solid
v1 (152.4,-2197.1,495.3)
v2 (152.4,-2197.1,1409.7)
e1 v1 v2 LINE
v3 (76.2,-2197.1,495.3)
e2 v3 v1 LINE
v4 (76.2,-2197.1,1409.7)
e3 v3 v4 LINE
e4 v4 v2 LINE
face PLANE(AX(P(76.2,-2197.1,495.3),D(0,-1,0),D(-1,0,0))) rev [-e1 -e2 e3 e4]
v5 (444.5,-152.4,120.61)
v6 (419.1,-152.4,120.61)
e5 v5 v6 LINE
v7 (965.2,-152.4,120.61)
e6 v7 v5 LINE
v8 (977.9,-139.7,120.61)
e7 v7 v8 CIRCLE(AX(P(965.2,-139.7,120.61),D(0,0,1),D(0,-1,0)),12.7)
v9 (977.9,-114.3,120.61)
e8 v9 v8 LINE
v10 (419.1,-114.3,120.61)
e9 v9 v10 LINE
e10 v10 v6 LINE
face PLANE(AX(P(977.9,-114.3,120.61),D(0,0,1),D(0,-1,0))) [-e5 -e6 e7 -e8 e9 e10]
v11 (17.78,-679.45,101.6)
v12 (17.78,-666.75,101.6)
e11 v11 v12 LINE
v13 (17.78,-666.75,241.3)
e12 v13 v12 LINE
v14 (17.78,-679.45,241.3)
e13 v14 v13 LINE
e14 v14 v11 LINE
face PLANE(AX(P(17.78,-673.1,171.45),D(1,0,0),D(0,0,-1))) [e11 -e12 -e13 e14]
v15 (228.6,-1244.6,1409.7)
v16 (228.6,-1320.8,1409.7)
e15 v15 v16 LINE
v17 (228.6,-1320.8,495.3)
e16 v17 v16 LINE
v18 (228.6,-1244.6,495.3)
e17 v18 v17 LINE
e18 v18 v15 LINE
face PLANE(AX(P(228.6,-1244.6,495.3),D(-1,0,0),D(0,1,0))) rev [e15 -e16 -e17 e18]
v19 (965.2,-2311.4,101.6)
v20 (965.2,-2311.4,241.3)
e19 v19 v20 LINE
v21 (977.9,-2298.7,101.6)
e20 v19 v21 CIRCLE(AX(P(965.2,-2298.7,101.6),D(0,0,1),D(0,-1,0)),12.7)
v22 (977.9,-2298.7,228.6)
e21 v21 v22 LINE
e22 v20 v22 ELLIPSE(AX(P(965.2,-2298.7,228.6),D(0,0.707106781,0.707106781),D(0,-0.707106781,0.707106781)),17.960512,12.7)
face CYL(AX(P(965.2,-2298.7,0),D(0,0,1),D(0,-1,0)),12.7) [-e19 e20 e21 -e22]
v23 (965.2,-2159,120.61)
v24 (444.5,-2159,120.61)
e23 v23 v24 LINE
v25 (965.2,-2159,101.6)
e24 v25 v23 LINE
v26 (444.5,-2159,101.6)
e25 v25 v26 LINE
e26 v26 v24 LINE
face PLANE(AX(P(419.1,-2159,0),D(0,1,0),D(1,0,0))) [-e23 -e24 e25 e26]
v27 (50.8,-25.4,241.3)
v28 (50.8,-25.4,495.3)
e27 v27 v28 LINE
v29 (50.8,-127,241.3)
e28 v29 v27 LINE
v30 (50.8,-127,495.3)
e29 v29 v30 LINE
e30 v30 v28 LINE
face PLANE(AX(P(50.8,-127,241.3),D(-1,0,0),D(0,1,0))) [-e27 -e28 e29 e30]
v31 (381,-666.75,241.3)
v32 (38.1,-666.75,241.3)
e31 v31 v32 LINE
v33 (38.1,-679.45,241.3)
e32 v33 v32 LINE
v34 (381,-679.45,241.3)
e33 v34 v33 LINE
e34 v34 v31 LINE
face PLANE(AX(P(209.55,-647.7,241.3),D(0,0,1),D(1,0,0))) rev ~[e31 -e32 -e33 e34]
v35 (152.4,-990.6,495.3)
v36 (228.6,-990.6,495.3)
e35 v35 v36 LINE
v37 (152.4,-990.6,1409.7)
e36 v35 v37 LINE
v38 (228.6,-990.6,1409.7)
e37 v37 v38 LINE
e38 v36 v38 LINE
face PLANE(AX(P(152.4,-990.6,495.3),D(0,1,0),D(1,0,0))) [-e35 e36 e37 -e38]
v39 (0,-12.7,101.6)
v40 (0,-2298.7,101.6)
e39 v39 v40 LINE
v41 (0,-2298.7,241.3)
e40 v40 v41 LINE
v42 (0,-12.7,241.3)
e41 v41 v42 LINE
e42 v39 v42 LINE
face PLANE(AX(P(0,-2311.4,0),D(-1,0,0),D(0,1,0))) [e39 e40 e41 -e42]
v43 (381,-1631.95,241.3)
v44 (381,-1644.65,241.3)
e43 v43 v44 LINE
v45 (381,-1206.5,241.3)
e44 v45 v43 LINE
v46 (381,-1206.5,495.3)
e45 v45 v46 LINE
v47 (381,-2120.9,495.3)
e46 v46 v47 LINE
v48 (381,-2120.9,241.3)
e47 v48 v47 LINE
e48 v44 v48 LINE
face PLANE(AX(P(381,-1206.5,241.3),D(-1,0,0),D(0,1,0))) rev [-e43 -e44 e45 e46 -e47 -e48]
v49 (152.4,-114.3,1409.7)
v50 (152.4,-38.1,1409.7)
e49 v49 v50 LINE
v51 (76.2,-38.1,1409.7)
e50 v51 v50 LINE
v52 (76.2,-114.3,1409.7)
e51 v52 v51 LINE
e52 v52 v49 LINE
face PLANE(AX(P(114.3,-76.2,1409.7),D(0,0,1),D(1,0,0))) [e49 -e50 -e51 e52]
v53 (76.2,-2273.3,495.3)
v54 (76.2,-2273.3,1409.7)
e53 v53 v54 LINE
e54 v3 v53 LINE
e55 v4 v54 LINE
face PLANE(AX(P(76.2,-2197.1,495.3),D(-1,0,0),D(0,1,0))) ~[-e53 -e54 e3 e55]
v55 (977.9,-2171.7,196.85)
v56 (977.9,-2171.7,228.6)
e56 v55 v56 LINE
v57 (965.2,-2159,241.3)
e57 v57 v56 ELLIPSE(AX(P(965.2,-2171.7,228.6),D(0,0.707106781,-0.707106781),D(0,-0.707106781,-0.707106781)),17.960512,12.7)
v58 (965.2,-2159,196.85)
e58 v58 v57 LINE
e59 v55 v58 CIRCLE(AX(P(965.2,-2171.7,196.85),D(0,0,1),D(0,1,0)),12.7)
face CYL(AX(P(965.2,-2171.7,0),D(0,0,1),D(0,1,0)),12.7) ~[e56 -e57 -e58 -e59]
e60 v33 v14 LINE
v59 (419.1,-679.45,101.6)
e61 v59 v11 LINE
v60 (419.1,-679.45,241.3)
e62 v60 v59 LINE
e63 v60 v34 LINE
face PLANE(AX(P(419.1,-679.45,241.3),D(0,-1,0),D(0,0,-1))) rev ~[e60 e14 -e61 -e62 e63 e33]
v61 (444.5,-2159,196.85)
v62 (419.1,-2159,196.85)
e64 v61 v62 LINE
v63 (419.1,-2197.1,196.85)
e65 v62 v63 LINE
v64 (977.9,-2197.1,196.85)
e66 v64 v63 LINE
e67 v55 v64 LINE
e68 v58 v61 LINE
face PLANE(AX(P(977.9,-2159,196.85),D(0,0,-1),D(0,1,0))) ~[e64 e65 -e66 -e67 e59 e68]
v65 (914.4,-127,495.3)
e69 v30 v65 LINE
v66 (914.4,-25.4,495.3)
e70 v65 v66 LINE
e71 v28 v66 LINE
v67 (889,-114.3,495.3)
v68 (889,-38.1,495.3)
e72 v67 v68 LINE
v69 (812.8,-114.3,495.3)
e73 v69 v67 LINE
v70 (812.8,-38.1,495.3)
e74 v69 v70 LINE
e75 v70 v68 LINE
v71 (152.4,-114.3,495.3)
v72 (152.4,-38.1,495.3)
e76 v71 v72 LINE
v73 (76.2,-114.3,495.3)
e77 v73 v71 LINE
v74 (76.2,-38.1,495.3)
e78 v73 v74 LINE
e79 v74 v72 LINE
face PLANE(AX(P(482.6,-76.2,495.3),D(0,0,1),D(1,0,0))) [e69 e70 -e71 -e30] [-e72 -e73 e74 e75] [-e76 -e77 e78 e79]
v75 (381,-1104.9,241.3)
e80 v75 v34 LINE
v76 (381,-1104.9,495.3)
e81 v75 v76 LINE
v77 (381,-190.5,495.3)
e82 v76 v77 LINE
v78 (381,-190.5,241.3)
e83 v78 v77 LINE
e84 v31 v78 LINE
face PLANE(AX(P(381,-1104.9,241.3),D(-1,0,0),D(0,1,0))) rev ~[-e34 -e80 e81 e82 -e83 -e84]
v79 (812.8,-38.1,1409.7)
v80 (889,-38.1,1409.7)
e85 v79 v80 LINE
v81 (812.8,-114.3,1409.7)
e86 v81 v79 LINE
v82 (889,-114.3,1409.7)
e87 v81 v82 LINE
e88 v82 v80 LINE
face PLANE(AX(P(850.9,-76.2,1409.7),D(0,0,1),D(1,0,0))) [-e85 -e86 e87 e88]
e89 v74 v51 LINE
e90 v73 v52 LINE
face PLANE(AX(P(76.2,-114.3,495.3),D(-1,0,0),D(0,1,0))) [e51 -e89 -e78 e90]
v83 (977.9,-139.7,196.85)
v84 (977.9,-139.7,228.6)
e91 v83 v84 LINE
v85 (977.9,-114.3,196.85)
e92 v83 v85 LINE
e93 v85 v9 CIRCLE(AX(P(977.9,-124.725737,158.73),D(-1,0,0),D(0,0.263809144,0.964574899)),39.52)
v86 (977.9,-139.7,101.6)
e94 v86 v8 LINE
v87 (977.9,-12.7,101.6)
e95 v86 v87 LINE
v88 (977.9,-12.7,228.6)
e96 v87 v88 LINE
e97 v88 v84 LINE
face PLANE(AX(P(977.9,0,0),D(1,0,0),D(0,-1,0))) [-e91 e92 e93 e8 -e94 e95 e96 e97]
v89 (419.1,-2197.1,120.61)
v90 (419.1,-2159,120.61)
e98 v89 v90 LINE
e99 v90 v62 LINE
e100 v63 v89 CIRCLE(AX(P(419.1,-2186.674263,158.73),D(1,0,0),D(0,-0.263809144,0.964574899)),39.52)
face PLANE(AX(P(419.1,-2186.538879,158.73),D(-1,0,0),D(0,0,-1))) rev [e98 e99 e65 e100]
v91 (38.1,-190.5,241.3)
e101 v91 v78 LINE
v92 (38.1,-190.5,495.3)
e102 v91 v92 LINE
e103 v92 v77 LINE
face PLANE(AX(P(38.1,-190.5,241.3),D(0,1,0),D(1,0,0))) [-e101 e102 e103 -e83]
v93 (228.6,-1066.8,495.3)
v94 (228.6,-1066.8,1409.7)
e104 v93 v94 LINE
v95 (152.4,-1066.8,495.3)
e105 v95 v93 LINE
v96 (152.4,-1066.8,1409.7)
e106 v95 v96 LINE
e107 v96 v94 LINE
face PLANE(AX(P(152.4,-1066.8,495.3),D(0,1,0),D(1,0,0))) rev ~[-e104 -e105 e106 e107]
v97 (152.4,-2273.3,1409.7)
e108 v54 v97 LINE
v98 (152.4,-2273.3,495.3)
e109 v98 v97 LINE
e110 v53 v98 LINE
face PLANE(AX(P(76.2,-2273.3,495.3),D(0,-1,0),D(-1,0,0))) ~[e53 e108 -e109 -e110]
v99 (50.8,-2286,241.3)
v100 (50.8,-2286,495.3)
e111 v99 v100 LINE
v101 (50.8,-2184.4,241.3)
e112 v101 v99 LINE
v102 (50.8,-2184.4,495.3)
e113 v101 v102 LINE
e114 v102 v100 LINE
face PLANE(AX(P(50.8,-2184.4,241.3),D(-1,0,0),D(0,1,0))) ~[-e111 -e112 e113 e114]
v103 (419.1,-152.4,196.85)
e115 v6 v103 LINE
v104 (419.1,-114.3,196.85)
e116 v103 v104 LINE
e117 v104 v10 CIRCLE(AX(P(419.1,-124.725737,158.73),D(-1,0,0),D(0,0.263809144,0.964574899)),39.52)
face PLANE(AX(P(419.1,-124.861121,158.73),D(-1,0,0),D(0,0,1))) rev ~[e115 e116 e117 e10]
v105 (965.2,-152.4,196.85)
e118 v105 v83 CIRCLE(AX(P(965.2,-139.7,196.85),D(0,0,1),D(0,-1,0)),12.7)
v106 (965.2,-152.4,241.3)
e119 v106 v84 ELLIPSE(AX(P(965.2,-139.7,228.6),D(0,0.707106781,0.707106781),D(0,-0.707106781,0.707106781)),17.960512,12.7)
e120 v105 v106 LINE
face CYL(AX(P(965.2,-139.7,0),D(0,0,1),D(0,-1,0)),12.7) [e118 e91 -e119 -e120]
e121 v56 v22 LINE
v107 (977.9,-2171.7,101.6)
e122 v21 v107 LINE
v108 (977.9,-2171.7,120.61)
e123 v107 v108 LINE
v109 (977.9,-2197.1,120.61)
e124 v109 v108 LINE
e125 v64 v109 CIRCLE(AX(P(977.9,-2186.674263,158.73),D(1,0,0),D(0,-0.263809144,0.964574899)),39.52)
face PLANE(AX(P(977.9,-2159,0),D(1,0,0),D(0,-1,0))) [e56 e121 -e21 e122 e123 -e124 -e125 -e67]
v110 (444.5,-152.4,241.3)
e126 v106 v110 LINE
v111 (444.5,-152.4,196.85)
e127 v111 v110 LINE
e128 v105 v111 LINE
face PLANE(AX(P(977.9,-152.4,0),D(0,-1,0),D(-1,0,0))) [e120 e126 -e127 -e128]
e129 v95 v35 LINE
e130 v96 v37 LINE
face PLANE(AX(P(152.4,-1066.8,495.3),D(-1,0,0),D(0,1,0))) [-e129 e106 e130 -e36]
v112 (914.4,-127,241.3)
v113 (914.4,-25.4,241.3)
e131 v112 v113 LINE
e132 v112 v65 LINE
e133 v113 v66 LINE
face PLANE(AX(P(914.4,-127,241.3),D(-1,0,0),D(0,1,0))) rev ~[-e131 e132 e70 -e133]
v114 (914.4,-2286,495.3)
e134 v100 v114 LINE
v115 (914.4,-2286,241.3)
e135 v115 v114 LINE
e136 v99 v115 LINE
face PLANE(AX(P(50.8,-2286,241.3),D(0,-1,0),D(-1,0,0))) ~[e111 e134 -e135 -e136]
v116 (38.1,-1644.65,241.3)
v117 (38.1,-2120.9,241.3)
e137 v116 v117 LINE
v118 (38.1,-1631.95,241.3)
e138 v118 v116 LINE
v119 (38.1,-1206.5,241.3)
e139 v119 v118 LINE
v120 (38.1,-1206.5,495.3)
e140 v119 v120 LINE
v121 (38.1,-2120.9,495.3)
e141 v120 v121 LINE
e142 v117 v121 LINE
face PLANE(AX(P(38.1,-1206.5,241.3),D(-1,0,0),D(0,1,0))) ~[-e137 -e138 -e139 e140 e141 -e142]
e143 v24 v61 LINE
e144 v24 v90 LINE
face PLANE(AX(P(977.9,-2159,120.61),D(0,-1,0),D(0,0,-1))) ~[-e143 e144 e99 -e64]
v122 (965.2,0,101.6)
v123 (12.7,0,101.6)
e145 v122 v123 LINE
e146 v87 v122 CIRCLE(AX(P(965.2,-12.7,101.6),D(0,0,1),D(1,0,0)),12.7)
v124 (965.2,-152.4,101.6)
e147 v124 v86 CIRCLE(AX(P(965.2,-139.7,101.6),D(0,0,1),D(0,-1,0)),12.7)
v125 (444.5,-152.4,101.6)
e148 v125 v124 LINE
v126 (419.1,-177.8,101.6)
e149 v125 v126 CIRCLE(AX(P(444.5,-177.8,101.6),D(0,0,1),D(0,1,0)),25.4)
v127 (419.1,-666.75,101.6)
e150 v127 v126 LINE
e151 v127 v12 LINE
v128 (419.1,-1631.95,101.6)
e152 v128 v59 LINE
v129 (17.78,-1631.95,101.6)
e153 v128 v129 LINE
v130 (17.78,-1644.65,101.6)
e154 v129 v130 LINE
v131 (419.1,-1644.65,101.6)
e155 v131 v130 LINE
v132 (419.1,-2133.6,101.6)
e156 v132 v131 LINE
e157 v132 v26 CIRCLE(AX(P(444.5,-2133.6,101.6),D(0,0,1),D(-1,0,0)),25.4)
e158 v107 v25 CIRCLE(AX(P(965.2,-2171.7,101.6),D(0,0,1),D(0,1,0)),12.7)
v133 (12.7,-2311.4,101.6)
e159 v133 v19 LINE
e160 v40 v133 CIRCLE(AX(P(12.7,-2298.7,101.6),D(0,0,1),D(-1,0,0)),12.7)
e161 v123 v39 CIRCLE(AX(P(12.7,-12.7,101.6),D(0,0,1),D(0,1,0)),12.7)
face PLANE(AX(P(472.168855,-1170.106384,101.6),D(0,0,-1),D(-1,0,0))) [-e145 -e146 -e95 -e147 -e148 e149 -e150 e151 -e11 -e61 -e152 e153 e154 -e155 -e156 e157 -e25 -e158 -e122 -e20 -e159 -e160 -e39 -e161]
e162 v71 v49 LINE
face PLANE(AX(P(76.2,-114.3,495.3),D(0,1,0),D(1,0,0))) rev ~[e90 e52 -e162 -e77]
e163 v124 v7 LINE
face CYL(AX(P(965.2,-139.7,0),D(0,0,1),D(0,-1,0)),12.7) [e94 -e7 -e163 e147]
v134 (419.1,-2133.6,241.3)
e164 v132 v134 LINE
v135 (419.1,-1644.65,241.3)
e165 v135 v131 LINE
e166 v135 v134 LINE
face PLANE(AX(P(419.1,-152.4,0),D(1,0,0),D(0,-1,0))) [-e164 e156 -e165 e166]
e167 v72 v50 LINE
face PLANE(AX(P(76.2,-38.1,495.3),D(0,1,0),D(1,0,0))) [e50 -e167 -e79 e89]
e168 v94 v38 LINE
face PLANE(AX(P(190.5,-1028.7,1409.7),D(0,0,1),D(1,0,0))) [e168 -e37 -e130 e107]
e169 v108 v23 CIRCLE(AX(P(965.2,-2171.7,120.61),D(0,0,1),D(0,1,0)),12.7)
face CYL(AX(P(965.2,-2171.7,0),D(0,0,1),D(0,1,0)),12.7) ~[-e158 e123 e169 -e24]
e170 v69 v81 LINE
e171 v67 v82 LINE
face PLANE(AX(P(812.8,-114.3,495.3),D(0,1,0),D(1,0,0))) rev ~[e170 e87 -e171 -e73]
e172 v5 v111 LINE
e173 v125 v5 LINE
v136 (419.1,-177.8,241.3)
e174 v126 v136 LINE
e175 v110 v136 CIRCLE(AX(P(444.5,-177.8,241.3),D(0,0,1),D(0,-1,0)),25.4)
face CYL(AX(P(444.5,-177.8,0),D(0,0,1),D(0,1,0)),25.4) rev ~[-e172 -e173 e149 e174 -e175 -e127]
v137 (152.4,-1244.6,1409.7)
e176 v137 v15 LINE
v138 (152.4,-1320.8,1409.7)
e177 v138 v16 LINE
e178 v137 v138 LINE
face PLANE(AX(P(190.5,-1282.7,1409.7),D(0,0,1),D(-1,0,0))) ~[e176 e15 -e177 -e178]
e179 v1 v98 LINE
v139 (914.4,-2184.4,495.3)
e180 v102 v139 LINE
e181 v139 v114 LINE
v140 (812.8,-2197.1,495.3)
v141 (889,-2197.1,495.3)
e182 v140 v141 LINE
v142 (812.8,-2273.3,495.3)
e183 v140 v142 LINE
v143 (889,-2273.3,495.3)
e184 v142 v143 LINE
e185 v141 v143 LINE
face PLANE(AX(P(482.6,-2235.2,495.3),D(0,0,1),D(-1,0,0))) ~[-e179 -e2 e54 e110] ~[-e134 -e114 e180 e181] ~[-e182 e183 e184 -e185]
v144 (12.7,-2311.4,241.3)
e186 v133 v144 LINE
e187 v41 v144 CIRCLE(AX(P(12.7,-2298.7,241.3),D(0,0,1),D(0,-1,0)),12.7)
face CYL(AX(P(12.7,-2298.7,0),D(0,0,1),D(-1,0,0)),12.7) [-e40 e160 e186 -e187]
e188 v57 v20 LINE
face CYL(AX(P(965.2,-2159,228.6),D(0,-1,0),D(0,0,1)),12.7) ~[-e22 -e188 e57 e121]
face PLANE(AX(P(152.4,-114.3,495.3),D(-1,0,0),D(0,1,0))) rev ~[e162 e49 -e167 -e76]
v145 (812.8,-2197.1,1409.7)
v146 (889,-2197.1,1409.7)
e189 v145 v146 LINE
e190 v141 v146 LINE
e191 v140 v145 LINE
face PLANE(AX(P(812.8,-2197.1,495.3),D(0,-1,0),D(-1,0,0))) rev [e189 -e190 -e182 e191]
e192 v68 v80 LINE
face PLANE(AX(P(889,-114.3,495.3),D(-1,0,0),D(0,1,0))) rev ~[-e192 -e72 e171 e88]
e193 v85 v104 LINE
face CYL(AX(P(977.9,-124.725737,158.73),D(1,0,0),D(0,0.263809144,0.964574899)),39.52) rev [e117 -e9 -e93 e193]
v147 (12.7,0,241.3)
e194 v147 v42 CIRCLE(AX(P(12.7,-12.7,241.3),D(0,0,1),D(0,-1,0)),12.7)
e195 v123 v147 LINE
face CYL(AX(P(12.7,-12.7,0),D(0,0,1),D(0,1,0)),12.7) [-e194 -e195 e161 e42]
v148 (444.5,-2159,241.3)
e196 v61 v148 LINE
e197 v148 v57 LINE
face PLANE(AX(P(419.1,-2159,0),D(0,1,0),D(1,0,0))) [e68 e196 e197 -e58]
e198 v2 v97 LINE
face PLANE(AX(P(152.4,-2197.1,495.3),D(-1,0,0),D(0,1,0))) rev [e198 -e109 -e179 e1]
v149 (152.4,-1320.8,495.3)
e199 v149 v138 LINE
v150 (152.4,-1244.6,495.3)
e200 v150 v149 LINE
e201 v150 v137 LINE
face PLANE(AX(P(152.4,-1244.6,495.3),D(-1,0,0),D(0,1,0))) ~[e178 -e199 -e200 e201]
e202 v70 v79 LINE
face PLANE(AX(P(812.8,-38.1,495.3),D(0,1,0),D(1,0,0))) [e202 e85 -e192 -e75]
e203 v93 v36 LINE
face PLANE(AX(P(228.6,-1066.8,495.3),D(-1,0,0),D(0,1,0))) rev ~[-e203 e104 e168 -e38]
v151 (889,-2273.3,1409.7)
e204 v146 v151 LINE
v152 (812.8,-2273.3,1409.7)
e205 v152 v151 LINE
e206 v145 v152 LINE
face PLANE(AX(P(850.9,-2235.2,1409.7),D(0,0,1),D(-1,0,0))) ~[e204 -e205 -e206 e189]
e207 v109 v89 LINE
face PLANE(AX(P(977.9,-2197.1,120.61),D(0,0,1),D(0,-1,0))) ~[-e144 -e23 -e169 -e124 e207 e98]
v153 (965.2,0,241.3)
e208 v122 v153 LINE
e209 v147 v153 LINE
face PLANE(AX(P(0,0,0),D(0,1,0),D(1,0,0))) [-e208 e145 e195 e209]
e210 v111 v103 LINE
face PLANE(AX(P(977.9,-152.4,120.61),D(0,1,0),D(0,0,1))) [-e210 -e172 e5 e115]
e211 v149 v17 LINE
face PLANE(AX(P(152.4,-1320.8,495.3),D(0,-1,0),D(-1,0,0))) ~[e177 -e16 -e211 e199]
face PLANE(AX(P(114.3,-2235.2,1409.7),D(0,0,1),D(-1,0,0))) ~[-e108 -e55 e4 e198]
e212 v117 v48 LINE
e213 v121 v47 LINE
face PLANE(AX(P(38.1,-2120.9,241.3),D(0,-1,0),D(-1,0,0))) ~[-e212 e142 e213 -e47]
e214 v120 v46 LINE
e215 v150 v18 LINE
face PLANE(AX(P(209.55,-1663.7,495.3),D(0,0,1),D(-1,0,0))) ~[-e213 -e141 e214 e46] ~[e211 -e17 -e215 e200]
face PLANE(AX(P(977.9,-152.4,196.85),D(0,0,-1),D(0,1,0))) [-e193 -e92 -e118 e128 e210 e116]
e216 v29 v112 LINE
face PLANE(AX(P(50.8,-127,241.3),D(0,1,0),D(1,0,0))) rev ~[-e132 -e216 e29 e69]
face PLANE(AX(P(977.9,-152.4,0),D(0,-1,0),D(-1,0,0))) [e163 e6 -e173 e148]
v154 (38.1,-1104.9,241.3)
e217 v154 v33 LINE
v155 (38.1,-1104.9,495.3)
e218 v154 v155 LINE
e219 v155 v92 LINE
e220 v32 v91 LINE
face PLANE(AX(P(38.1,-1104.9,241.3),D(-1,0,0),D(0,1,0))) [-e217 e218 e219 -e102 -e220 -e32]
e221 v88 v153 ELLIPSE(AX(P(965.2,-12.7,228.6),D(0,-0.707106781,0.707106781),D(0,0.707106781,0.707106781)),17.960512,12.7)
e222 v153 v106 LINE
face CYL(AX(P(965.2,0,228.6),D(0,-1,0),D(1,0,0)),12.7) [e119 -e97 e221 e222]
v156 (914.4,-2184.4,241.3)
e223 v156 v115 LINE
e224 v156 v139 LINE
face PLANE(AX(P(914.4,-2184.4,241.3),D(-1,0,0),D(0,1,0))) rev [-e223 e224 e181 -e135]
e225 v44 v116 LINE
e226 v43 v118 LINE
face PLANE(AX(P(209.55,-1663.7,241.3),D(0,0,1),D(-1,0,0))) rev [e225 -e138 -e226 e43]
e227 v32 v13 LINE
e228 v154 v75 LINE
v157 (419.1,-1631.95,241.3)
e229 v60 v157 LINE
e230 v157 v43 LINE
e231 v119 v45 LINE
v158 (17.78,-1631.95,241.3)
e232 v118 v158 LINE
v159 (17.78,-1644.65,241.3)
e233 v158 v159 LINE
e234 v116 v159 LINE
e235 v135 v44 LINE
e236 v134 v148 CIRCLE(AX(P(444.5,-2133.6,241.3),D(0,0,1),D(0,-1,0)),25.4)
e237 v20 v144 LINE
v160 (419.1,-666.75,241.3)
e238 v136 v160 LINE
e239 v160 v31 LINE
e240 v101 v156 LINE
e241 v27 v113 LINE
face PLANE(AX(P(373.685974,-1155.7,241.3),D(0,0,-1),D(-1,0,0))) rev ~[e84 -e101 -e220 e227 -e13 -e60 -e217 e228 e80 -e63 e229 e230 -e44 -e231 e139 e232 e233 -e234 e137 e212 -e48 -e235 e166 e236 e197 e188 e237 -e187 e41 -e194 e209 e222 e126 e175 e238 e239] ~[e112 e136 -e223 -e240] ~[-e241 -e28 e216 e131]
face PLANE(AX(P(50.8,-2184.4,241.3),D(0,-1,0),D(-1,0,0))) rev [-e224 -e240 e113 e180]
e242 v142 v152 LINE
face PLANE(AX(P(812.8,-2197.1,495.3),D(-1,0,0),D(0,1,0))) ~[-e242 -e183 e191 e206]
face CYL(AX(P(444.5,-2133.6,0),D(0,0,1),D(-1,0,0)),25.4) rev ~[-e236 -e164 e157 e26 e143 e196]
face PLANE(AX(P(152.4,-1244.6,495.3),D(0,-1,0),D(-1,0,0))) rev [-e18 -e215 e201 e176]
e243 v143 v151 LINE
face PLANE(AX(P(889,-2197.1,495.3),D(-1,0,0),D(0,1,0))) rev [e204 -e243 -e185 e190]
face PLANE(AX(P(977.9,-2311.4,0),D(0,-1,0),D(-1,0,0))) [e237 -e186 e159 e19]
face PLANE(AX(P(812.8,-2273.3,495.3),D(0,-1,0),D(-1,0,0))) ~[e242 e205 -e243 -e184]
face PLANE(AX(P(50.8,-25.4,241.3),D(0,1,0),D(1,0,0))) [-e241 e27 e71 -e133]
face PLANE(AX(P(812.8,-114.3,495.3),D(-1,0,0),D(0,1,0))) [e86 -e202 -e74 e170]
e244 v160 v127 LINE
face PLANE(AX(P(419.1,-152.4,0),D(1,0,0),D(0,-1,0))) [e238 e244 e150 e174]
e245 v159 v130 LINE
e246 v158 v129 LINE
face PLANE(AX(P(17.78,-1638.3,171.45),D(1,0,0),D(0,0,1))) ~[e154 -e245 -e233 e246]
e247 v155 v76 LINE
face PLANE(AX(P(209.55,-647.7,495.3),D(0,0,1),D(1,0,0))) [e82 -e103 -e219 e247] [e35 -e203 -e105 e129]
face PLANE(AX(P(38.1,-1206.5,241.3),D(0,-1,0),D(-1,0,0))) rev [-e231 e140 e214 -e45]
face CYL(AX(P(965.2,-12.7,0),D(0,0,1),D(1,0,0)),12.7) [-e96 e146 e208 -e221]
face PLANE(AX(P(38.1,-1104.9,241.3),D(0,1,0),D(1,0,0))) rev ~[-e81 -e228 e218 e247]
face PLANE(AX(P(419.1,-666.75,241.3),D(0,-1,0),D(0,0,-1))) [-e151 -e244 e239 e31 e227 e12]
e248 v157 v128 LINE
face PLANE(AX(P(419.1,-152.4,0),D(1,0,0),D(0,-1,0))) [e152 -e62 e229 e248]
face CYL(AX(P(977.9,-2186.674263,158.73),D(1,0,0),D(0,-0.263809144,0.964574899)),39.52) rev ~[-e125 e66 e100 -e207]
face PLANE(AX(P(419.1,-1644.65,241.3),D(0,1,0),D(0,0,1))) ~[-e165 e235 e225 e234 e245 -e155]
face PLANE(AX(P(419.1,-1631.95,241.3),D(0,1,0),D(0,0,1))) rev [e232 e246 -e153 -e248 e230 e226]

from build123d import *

# Parameters (mm, degrees)
BOSS_EXTRUDE1_DEPTH = 241.3
FILLET1_R           = 25.4
FILLET2_R           = 12.7
CUT_EXTRUDE1_DEPTH  = 558.8
SKETCH3_W           = 1114.093901139
SKETCH3_H           = 2455.440787086
CUT_EXTRUDE5_DEPTH  = 101.6
SKETCH4_W           = 139.7
SKETCH4_H           = 12.7
CUT_EXTRUDE6_DEPTH  = 401.32
SKETCH9_W           = 863.6
SKETCH9_H           = 101.6
SKETCH9_W_2         = 342.9
SKETCH9_H_2         = 914.4
BOSS_EXTRUDE5_DEPTH = 254
SKETCH10_W          = 76.2
SKETCH10_H          = 76.2
BOSS_EXTRUDE6_DEPTH = 914.4


with BuildPart() as part:
    # Sketch1 → Boss-Extrude1 (new body)
    with BuildSketch(Plane.XY):
        Polygon((977.9, -152.4), (419.1, -152.4), (419.1, -2159), (977.9, -2159), (977.9, -2311.4), (0, -2311.4), (0, 0), (977.9, 0), align=None)
    extrude(amount=BOSS_EXTRUDE1_DEPTH)

    # Fillet1
    fillet1_edges = [part.edges().sort_by_distance(p)[0] for p in [
        (419.1, -152.4, 120.65),
        (419.1, -2159, 120.65),
    ]]
    fillet(fillet1_edges, radius=FILLET1_R)

    # Fillet2
    fillet2_edges = [part.edges().sort_by_distance(p)[0] for p in [
        (977.9, -2235.2, 241.3),
        (0, 0, 120.65),
        (977.9, 0, 120.65),
        (977.9, -152.4, 120.65),
        (977.9, -2159, 120.65),
        (977.9, -2311.4, 120.65),
        (0, -2311.4, 120.65),
        (977.9, -76.2, 241.3),
        (977.9, -76.2, 0),
        (977.9, -2235.2, 0),
    ]]
    fillet(fillet2_edges, radius=FILLET2_R)

    # Sketch2 → Cut-Extrude1 (cut)
    with BuildSketch(Plane(origin=(977.9, 0, 0), x_dir=(0, 0, -1), z_dir=(1, 0, 0))):
        with BuildLine():
            Line((-196.85, -152.4), (-196.85, -114.3))
            ThreePointArc((-196.85, -114.3), (-158.73, -85.205737384), (-120.61, -114.3))
            Line((-120.61, -114.3), (-120.61, -152.4))
            Line((-120.61, -152.4), (-196.85, -152.4))
        make_face()
    cut_extrude1 = extrude(amount=-CUT_EXTRUDE1_DEPTH, mode=Mode.SUBTRACT)

    # Mirror1: Cut-Extrude1 across plane
    add(cut_extrude1.mirror(Plane.ZX.offset(-1155.7)), mode=Mode.SUBTRACT)

    # Sketch3 → Cut-Extrude5 (cut)
    with BuildSketch(Plane(origin=(0, 0, 0), x_dir=(-1, 0, 0), z_dir=(0, 0, -1))):
        with Locations((-472.168855083, -1170.106383975)):
            Rectangle(SKETCH3_W, SKETCH3_H)
    extrude(amount=-CUT_EXTRUDE5_DEPTH, mode=Mode.SUBTRACT)

    # Sketch4 → Cut-Extrude6 (cut)
    with BuildSketch(Plane(origin=(419.1, 0, 0), x_dir=(0, 0, -1), z_dir=(1, 0, 0))):
        with Locations((-171.45, -673.1)):
            Rectangle(SKETCH4_W, SKETCH4_H)
    cut_extrude6 = extrude(amount=-CUT_EXTRUDE6_DEPTH, mode=Mode.SUBTRACT)

    # Mirror2: Cut-Extrude6 across plane
    add(cut_extrude6.mirror(Plane.ZX.offset(-1155.7)), mode=Mode.SUBTRACT)

    # Sketch9 → Boss-Extrude5 (add)
    with BuildSketch(Plane.XY.offset(241.3)):
        with Locations((482.6, -76.2)):
            Rectangle(SKETCH9_W, SKETCH9_H)
        with Locations((209.55, -647.7)):
            Rectangle(SKETCH9_W_2, SKETCH9_H_2)
    boss_extrude5 = extrude(amount=BOSS_EXTRUDE5_DEPTH)

    # Sketch10 → Boss-Extrude6 (add)
    with BuildSketch(Plane.XY.offset(495.3)):
        with Locations((114.3, -76.2)):
            Rectangle(SKETCH10_W, SKETCH10_H)
        with Locations((850.9, -76.2)):
            Rectangle(SKETCH10_W, SKETCH10_H)
        with Locations((190.5, -1028.7)):
            Rectangle(SKETCH10_W, SKETCH10_H)
    boss_extrude6 = extrude(amount=BOSS_EXTRUDE6_DEPTH)

    # Mirror4: Boss-Extrude5, Boss-Extrude6 across plane
    add(boss_extrude5.mirror(Plane.ZX.offset(-1155.7)))
    add(boss_extrude6.mirror(Plane.ZX.offset(-1155.7)))


solid = part.part
